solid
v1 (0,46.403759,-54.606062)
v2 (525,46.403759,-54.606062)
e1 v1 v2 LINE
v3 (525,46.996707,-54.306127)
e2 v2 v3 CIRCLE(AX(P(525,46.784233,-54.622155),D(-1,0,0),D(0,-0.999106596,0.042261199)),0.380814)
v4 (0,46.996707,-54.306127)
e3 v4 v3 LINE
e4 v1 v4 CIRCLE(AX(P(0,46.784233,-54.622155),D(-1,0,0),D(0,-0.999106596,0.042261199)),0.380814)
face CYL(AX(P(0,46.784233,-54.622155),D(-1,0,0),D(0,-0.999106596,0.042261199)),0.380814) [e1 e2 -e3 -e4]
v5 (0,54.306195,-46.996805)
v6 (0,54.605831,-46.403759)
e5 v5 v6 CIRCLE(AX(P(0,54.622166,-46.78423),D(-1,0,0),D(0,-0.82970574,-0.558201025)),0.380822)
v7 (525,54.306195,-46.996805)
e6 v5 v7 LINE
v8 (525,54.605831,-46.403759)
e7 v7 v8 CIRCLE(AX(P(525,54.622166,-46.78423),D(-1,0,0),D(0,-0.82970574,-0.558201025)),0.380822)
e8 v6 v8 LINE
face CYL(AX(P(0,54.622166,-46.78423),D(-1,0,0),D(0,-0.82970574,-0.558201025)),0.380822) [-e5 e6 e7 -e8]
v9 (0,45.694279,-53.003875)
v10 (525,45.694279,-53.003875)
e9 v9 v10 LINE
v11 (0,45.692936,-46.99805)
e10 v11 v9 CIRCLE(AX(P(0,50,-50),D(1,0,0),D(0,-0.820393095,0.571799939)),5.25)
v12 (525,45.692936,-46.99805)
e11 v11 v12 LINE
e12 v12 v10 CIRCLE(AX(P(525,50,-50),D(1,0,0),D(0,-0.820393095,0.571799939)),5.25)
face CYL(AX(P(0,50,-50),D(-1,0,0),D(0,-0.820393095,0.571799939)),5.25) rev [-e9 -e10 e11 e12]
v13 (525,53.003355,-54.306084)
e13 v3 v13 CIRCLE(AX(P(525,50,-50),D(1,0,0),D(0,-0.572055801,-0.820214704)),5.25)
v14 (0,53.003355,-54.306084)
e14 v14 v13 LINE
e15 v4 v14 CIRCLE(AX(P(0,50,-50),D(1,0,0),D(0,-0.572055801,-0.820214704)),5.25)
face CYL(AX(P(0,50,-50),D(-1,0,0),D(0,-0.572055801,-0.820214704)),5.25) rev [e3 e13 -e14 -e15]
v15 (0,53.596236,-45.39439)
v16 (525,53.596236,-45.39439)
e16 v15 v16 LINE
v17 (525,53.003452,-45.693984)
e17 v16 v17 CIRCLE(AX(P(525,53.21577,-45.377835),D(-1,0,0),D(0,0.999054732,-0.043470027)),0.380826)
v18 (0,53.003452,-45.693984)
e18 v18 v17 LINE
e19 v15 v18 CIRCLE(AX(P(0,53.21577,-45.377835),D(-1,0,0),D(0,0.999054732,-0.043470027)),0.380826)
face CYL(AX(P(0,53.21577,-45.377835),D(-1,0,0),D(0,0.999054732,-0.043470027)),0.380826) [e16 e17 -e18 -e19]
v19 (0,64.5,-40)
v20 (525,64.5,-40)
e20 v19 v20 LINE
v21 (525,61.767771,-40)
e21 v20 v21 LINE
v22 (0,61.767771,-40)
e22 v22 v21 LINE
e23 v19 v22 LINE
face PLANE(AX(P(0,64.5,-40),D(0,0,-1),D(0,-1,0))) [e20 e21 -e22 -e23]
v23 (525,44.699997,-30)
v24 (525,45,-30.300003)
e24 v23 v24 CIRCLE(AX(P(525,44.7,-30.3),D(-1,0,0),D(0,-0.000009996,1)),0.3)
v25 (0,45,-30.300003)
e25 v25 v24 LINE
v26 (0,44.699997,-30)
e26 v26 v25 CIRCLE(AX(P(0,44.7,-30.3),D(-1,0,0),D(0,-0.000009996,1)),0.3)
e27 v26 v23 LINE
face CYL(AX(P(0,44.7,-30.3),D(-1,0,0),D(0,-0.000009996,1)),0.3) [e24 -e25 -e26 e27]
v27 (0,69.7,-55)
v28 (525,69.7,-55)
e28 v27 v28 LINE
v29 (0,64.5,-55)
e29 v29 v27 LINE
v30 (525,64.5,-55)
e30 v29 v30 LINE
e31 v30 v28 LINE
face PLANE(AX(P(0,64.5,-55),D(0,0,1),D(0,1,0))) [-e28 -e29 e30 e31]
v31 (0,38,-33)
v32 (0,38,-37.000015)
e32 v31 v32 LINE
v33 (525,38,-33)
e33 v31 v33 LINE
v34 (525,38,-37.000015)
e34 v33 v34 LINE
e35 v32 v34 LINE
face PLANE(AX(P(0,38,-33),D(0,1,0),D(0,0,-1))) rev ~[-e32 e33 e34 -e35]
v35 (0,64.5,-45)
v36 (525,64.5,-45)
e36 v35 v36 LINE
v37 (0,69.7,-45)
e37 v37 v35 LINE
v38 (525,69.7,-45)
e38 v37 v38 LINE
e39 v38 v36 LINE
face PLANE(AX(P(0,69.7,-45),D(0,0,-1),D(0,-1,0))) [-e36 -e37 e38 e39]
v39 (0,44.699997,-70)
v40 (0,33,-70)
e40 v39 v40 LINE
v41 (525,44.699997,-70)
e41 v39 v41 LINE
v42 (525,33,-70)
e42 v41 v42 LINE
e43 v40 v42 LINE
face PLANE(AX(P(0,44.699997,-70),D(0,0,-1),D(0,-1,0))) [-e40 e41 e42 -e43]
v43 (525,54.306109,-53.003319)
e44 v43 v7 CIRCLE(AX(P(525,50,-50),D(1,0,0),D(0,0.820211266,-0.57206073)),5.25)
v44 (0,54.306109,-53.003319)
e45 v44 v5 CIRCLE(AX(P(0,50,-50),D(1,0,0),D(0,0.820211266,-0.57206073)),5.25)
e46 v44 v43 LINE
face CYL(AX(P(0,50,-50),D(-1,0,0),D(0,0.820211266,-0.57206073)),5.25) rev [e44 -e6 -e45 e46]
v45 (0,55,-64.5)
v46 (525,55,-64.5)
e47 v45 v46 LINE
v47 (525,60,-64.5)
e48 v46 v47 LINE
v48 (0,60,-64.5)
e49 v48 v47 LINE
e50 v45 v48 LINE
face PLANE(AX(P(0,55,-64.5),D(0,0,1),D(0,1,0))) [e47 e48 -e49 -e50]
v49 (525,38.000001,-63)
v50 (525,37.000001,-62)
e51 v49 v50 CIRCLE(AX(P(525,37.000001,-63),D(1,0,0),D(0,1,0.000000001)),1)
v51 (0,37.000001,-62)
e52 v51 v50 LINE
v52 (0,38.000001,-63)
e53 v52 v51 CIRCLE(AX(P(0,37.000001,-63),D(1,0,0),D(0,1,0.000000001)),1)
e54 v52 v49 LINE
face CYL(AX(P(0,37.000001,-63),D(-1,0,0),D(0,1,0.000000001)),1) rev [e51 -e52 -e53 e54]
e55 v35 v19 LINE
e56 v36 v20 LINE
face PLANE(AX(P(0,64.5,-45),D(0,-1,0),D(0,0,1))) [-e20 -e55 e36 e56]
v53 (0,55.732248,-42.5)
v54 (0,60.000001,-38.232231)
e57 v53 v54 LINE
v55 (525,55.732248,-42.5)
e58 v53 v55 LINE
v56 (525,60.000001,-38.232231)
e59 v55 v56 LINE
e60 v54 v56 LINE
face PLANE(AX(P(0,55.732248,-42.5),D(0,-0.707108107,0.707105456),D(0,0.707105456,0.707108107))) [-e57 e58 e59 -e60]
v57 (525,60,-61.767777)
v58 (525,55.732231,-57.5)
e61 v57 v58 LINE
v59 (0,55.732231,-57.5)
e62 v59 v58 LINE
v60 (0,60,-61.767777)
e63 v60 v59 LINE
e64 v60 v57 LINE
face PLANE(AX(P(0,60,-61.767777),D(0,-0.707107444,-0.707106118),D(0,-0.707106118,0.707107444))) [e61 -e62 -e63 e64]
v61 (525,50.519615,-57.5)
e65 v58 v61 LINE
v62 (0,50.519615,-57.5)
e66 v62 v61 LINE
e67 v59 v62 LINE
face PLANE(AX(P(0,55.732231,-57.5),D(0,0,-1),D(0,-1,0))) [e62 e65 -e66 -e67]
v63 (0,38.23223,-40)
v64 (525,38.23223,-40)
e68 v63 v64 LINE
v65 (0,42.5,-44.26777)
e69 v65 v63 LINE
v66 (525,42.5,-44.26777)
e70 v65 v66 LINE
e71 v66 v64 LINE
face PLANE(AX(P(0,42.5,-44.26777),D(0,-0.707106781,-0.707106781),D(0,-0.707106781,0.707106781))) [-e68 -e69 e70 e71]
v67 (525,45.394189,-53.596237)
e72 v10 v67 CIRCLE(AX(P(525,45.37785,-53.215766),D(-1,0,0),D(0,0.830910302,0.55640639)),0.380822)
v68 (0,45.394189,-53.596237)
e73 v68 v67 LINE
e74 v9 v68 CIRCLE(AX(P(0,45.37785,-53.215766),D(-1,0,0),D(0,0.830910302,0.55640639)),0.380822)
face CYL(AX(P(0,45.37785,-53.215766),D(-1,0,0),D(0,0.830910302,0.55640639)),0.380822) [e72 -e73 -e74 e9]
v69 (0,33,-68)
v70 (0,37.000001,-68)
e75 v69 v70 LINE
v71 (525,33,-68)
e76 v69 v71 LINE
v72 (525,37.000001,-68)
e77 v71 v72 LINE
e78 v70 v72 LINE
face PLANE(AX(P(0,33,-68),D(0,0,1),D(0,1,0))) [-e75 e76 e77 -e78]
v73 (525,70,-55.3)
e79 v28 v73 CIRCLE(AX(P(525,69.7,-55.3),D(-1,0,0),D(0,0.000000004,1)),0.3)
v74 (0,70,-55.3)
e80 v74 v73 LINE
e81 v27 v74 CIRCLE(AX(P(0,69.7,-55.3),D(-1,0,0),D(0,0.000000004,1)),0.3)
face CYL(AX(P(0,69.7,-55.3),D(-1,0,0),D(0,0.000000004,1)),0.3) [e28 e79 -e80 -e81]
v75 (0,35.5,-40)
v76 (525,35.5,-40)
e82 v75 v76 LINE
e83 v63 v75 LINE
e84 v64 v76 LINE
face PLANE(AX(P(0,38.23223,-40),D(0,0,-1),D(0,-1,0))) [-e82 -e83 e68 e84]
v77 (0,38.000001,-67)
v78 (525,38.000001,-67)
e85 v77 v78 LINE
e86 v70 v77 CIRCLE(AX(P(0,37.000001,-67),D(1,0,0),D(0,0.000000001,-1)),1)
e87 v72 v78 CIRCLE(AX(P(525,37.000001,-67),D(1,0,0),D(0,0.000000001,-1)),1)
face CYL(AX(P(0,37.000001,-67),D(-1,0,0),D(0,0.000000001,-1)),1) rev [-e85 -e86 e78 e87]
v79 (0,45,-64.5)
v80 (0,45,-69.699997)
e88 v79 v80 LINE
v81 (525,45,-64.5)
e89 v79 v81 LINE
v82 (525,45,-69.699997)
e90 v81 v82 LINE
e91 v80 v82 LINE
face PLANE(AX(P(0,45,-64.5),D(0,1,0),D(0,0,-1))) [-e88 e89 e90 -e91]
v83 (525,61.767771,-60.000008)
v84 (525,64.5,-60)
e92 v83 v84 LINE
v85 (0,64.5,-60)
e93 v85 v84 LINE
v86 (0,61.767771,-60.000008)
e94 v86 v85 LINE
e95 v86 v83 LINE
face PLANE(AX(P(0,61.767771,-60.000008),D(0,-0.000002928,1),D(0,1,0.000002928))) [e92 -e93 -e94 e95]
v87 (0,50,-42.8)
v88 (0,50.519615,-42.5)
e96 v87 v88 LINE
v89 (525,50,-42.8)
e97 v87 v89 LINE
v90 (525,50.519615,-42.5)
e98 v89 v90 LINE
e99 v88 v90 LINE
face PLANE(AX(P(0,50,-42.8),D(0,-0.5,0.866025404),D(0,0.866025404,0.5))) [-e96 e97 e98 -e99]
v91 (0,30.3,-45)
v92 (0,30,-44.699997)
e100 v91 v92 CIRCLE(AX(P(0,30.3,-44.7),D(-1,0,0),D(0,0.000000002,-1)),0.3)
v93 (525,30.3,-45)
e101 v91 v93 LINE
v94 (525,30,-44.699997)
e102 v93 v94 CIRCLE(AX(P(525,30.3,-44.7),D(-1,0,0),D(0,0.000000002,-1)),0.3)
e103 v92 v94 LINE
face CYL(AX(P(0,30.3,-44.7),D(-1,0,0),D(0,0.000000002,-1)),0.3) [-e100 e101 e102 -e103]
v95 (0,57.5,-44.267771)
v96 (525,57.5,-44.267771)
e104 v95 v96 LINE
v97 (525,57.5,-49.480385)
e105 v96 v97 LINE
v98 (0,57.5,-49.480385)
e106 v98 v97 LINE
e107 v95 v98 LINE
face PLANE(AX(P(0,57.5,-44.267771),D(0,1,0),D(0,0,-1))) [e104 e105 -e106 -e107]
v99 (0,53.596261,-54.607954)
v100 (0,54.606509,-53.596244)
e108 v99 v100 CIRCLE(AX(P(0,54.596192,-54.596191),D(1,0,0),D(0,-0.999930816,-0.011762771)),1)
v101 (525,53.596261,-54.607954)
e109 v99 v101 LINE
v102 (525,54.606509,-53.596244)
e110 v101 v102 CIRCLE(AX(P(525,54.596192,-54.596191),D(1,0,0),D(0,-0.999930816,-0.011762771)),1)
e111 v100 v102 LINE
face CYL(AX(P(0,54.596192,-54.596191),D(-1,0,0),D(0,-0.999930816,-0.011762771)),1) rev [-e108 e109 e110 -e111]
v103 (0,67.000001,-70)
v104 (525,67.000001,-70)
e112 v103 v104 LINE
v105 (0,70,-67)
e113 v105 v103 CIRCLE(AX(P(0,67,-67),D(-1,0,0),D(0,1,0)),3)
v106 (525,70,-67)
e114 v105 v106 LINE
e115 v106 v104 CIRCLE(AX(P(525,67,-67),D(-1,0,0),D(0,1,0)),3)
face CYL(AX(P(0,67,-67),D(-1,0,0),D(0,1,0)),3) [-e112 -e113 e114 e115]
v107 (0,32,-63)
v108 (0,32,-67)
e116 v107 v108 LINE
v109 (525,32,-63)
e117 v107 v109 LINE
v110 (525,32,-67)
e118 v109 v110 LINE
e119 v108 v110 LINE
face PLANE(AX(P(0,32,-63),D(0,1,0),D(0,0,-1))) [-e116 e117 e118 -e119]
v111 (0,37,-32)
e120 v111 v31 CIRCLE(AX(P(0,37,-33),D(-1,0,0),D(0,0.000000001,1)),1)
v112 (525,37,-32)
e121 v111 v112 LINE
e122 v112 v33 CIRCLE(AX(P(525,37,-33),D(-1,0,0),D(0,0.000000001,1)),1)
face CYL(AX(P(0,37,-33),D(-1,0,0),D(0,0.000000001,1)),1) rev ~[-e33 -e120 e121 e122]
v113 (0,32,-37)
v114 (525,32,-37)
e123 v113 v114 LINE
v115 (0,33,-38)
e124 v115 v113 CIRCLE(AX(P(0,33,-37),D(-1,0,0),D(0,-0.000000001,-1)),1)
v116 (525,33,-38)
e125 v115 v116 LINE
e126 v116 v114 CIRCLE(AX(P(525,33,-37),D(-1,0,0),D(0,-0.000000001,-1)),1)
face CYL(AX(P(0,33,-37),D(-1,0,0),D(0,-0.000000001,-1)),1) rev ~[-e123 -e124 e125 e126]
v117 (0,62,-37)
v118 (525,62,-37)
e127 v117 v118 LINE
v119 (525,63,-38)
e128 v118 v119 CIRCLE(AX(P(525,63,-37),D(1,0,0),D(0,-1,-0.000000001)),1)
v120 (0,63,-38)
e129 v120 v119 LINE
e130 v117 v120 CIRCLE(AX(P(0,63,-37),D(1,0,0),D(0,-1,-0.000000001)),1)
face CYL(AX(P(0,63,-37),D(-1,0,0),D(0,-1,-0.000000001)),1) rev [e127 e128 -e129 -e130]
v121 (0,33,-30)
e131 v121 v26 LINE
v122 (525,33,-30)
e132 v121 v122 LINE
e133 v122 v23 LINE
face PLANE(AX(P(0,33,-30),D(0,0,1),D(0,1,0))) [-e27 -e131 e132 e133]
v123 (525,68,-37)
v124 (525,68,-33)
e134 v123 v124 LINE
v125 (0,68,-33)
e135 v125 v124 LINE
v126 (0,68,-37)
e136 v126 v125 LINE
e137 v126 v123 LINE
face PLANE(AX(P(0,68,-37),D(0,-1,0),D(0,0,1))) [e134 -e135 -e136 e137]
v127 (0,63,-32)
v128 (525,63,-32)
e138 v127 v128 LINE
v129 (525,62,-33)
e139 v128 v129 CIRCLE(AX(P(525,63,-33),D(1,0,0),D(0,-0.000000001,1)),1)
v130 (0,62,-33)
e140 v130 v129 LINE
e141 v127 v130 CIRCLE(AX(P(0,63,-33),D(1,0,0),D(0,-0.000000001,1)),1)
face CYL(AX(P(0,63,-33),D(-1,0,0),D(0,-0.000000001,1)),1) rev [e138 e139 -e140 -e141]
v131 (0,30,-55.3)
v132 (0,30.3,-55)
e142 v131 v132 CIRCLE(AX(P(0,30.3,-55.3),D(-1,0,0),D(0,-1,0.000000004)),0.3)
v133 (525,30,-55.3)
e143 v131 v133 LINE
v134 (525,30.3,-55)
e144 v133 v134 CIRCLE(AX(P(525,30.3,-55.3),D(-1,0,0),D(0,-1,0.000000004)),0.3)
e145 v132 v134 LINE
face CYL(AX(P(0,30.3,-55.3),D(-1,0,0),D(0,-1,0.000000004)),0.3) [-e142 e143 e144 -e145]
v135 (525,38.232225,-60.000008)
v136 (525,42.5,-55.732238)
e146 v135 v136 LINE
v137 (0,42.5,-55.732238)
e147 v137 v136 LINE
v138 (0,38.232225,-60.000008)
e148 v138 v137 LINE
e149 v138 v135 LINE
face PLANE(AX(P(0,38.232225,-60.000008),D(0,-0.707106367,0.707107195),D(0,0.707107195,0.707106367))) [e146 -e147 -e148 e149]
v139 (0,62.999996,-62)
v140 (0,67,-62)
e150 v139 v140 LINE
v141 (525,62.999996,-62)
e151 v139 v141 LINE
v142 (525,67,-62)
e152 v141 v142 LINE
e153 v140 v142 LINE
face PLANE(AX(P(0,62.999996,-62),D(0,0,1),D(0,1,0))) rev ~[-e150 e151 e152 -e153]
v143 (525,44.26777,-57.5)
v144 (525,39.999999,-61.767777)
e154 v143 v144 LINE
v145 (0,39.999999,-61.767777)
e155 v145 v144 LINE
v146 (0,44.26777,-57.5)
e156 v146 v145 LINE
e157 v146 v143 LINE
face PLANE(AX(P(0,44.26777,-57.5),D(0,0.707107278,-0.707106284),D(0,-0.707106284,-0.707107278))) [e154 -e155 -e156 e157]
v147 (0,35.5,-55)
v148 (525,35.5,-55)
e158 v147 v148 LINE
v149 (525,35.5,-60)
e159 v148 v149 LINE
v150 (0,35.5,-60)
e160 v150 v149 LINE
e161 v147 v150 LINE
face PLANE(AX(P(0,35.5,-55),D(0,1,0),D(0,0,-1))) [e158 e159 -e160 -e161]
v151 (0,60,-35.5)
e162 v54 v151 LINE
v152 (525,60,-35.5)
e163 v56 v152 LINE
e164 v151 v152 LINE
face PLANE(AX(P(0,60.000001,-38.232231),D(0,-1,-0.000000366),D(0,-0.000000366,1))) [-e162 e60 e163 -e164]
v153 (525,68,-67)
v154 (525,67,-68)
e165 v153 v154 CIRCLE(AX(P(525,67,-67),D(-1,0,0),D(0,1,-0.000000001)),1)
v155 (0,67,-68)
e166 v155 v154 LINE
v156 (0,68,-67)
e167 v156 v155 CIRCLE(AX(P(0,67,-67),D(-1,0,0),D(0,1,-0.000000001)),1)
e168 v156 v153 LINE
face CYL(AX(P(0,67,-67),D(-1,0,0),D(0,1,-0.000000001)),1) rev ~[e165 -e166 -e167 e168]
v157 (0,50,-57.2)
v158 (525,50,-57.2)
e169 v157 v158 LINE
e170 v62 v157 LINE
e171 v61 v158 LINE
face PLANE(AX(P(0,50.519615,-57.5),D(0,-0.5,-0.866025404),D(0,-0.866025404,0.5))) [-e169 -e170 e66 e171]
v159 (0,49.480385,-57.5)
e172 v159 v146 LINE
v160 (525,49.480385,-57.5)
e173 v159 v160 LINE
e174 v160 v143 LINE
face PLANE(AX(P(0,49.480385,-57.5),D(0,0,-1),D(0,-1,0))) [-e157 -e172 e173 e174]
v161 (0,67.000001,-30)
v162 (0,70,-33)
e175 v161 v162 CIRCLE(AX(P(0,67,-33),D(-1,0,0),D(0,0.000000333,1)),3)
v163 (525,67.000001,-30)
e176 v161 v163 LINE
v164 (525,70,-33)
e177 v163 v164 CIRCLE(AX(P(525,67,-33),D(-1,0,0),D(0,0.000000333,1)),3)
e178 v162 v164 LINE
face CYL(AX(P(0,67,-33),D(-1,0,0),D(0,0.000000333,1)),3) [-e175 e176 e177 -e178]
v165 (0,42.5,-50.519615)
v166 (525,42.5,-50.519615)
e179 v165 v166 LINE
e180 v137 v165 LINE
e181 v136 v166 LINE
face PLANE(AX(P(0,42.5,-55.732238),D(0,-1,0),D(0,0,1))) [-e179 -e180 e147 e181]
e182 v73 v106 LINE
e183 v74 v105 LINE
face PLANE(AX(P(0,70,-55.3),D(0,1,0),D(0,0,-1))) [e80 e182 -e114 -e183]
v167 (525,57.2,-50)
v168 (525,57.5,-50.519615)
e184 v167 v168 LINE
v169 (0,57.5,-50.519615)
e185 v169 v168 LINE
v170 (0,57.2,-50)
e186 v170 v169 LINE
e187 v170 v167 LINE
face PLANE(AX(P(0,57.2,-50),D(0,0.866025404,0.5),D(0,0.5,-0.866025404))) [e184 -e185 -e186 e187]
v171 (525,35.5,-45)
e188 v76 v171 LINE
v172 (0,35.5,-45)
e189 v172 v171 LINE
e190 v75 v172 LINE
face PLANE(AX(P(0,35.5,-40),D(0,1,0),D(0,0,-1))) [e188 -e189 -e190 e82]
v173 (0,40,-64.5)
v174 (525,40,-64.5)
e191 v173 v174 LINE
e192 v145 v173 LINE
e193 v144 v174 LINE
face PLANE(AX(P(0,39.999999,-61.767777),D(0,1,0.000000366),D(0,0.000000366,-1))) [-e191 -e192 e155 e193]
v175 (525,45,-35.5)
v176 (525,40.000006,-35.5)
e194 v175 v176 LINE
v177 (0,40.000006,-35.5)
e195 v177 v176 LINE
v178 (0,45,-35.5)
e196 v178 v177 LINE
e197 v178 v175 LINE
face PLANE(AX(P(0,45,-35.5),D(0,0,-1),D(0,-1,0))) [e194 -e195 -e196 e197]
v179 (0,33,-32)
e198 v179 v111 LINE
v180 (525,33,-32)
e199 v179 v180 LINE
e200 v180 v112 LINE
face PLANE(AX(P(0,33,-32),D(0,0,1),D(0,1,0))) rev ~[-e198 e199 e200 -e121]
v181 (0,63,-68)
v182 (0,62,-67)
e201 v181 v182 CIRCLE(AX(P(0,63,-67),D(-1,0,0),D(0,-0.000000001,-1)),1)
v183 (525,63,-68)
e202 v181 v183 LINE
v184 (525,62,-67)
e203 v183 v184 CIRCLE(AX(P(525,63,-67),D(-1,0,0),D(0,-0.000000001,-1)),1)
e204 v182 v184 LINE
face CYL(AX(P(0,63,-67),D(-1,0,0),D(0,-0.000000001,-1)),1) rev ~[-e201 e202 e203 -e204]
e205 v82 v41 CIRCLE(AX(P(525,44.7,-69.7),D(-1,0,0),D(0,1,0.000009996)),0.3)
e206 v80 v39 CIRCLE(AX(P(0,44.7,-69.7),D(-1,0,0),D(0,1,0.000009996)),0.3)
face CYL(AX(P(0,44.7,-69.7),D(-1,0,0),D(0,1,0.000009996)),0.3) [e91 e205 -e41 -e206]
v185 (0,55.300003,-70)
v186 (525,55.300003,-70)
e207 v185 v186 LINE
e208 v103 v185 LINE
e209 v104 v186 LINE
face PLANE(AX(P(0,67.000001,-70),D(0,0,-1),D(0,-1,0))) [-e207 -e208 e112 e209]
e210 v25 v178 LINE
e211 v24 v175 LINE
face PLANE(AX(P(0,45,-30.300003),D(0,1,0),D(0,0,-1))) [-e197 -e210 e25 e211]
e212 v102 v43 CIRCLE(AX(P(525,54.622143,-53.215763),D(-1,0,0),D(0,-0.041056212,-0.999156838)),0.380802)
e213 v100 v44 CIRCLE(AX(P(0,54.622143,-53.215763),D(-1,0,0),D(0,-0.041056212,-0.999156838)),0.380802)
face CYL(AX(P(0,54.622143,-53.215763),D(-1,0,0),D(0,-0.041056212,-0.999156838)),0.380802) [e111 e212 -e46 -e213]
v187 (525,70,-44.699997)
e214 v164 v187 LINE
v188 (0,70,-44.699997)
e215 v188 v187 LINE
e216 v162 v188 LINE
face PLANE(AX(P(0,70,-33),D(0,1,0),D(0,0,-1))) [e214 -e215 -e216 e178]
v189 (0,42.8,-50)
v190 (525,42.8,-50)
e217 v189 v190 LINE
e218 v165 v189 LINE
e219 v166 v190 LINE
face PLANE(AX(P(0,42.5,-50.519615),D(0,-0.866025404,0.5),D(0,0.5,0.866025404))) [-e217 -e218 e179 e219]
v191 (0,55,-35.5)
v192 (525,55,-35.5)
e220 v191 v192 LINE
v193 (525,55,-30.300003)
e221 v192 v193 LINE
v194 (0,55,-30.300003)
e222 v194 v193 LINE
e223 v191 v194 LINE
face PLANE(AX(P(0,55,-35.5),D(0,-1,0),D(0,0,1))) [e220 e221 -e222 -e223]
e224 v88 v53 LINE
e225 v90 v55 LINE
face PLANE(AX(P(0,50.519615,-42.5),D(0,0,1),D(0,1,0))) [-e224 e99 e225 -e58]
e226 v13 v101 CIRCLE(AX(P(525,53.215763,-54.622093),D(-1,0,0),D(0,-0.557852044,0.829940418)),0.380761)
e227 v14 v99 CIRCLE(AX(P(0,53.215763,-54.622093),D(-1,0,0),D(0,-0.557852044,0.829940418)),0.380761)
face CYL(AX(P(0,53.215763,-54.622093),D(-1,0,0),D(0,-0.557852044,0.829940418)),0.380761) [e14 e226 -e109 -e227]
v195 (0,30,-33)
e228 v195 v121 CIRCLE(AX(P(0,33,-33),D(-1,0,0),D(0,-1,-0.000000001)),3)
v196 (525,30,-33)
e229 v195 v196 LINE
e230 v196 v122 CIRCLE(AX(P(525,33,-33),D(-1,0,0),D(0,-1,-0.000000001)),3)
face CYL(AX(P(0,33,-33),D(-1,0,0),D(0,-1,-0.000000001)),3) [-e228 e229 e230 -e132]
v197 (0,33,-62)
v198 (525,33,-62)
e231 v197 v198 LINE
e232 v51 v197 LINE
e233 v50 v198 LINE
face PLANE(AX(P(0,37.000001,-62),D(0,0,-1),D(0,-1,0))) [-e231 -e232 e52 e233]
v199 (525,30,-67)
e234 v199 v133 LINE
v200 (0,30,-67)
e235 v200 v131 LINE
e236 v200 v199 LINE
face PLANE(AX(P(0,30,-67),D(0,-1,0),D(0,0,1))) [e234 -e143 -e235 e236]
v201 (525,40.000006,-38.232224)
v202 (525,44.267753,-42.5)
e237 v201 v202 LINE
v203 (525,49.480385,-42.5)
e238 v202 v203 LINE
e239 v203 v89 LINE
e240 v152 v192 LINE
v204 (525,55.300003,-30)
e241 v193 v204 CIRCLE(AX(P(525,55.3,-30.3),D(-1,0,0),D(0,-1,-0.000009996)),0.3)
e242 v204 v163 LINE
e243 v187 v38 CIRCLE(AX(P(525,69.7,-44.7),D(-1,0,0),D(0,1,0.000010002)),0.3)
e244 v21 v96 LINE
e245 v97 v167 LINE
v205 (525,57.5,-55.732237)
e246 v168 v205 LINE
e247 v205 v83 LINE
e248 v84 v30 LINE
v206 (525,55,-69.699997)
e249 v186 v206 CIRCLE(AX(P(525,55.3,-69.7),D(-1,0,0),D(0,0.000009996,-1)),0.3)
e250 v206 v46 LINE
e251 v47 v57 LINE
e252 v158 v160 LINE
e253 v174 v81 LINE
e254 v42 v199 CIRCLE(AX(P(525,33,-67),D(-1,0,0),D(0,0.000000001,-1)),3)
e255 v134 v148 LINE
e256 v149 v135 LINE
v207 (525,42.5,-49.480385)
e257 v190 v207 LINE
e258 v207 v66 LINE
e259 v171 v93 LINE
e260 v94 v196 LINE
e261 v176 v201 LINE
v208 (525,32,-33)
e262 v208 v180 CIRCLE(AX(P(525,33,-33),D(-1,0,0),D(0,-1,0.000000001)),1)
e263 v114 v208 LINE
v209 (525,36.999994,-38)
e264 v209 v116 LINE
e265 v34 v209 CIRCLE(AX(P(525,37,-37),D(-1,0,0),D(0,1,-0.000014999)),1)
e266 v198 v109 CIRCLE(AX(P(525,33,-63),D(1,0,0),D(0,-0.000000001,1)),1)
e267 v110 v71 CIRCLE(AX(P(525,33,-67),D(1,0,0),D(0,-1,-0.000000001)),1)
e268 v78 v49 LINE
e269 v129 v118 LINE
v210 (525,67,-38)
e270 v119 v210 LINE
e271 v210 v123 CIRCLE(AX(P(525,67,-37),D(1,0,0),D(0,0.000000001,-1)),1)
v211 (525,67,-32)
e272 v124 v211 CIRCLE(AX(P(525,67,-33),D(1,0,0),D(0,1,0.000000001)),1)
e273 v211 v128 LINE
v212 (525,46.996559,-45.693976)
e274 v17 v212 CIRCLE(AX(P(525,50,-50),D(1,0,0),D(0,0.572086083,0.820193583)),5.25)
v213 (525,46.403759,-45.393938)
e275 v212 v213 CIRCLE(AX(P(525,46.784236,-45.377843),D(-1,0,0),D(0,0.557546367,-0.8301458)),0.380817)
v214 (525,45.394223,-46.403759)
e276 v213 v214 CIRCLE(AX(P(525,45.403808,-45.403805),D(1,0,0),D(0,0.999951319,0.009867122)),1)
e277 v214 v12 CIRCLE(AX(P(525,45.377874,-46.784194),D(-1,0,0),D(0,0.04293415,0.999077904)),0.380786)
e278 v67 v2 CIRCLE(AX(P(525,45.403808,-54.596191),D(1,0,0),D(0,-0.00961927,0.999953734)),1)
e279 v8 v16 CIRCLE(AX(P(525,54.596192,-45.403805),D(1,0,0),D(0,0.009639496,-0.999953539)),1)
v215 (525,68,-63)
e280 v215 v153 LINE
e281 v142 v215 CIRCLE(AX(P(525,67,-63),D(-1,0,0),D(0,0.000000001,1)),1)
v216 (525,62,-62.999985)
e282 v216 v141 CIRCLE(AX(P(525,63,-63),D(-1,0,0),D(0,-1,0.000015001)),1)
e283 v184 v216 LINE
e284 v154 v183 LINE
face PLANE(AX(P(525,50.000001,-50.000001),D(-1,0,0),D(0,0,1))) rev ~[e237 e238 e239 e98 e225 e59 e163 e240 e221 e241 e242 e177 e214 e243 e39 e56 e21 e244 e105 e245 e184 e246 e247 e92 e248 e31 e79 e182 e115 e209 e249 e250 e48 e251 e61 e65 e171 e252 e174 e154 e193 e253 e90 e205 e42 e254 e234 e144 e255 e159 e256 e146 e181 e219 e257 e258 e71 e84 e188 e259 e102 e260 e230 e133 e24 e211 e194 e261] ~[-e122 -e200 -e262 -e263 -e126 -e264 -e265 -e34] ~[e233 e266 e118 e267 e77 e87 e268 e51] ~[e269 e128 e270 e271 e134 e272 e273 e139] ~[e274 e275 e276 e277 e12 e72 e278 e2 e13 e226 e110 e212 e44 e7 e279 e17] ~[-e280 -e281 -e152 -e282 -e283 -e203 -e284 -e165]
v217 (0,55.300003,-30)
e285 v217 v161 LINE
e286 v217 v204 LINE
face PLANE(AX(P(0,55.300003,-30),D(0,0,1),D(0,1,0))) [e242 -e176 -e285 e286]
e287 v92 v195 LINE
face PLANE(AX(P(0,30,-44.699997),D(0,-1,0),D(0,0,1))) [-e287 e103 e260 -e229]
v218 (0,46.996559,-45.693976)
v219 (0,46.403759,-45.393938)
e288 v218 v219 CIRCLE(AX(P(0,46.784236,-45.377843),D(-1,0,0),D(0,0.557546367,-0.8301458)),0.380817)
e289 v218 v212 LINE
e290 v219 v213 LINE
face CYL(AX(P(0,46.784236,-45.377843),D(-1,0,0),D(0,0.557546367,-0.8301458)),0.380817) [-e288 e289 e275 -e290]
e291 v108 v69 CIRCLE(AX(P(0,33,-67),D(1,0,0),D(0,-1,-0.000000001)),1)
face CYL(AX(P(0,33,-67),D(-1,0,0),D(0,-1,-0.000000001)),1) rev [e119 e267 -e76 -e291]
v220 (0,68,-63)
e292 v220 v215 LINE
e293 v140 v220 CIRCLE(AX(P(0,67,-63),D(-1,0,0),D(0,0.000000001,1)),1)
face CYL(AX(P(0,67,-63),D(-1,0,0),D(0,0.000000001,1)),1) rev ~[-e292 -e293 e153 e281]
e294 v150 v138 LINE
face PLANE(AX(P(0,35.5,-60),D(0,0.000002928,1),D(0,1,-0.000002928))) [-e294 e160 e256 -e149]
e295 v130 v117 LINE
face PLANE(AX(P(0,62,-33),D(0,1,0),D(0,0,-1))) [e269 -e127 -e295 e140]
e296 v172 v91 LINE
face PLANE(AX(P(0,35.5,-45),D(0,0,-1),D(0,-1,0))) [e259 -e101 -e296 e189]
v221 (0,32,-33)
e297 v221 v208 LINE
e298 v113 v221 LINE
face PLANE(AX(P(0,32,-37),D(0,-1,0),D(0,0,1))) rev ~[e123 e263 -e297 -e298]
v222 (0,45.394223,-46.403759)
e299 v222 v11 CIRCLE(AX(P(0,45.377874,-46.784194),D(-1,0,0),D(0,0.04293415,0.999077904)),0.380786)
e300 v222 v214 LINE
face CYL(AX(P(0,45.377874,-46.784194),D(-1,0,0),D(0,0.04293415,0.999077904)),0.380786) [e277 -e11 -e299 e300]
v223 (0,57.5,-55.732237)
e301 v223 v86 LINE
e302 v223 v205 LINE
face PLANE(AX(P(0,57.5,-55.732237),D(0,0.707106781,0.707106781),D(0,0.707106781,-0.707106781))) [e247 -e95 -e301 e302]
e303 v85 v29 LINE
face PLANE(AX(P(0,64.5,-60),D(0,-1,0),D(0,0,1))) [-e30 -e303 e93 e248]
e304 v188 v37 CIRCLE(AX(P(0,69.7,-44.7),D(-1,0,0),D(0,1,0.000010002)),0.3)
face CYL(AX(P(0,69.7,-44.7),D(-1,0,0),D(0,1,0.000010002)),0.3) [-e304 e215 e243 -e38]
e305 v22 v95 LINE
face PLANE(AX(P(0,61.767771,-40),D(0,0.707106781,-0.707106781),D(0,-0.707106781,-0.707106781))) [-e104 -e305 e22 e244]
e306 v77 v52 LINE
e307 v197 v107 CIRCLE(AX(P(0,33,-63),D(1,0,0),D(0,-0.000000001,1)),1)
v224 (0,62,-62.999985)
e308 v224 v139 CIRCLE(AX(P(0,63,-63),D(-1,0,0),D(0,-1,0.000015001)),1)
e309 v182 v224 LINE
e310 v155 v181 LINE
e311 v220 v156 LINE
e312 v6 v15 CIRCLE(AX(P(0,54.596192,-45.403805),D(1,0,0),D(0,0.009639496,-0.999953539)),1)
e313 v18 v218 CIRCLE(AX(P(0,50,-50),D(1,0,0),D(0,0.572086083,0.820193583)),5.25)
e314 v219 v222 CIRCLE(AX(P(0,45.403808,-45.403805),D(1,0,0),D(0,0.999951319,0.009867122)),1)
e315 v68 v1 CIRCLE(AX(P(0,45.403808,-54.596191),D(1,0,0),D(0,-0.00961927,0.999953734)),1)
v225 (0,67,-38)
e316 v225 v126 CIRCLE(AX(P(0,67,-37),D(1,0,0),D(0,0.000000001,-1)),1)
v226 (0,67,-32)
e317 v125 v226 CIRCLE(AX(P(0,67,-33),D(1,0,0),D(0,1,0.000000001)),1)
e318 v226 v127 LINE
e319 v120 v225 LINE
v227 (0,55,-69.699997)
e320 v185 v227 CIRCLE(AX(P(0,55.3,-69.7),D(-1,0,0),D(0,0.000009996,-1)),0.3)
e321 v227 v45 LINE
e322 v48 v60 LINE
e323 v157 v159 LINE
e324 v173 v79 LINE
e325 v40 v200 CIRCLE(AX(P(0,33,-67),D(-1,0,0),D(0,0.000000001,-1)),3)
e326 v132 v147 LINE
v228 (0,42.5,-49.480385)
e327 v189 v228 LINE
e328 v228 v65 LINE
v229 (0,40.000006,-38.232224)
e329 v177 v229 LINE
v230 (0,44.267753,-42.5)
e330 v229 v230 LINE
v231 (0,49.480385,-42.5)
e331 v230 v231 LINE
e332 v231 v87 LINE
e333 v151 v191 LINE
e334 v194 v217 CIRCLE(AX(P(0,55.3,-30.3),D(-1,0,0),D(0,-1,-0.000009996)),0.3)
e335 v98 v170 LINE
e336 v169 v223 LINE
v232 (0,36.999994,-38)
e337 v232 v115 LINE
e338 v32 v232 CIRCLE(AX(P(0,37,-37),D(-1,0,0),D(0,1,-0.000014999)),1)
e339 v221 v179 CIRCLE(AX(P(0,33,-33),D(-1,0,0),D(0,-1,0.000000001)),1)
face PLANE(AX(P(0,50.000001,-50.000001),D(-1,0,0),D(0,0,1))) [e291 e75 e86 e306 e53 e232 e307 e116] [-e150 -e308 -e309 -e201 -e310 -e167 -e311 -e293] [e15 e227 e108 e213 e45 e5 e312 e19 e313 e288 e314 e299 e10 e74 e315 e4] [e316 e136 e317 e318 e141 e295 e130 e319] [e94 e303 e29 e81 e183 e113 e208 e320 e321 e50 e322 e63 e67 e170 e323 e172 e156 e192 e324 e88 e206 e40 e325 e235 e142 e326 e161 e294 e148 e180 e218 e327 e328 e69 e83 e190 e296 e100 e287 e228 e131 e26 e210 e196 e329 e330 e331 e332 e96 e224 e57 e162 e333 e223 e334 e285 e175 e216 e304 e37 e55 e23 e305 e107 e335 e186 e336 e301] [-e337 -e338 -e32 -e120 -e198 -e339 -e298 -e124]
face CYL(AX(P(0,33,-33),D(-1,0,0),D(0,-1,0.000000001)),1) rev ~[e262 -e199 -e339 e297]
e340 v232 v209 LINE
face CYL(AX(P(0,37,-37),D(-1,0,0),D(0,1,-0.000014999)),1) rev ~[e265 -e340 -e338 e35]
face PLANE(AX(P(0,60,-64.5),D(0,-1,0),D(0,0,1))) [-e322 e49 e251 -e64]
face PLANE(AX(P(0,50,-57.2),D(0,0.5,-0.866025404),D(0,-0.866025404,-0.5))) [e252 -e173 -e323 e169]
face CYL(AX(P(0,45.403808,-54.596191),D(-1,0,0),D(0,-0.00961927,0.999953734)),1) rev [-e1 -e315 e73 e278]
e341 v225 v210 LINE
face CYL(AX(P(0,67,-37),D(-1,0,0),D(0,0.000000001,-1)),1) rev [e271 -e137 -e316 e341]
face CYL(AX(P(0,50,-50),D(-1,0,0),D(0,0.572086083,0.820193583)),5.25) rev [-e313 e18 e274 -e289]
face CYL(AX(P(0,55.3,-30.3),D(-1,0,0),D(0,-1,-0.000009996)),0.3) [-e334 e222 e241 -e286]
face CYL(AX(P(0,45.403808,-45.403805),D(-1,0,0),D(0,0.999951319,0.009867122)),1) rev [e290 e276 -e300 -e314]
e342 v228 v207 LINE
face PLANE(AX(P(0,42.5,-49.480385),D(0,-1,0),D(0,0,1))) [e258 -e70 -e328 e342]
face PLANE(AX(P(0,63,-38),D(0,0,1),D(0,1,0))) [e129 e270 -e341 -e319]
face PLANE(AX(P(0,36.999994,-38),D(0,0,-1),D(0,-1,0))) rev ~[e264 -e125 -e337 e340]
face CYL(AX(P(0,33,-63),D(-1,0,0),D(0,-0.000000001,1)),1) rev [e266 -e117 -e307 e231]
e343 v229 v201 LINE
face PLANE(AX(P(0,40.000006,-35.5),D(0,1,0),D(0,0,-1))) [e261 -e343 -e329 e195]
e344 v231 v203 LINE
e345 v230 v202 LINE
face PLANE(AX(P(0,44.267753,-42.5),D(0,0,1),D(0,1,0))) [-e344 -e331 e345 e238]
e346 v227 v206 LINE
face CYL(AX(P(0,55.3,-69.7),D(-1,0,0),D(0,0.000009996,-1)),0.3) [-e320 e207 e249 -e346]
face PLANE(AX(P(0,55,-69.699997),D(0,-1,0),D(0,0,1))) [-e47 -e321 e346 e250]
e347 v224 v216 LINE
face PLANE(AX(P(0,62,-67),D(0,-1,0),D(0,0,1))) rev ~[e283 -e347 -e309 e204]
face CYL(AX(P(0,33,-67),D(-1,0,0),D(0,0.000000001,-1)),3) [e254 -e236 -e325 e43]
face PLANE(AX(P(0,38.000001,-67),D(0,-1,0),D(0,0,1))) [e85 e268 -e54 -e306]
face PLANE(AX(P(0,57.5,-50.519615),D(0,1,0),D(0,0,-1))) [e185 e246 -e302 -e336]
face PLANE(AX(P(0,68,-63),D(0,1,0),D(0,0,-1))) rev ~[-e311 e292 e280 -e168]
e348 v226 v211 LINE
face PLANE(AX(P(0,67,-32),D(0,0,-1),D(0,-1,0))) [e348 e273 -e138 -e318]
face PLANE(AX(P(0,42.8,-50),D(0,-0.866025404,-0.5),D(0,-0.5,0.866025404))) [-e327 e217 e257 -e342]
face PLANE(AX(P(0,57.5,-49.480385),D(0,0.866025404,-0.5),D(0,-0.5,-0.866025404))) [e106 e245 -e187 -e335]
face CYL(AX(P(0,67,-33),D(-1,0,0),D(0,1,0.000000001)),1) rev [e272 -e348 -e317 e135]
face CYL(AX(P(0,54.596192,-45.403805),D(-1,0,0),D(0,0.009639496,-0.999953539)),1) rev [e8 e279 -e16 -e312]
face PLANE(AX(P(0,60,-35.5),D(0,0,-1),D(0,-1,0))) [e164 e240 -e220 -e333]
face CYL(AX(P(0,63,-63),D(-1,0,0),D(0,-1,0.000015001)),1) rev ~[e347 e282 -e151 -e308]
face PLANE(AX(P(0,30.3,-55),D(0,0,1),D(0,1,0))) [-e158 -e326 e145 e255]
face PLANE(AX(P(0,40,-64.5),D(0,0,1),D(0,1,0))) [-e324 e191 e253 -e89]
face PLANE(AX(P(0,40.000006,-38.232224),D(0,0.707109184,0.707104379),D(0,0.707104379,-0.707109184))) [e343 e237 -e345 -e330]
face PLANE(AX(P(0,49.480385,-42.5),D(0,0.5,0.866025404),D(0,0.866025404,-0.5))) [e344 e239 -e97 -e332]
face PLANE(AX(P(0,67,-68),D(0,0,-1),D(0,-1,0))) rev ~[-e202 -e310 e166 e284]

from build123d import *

# Parameters (mm, degrees)
STRUCTURAL_MEMBER2_DEPTH = 525


with BuildPart() as part:
    # Profile → Structural Member2 (new body)
    with BuildSketch(Plane(origin=(0, 0, 0), x_dir=(0, 0, -1), z_dir=(1, 0, 0))):
        with BuildLine():
            Line((69.699997, 55), (64.5, 55))
            Line((64.5, 55), (64.5, 60))
            Line((64.5, 60), (61.767777, 60))
            Line((61.767777, 60), (57.5, 55.732231))
            Line((57.5, 55.732231), (57.5, 50.519615242))
            Line((57.5, 50.519615242), (57.2, 50))
            Line((57.2, 50), (57.5, 49.480384758))
            Line((57.5, 49.480384758), (57.5, 44.26777))
            Line((57.5, 44.26777), (61.767777, 39.999999))
            Line((61.767777, 39.999999), (64.5, 40))
            Line((64.5, 40), (64.5, 45))
            Line((64.5, 45), (69.699997, 45))
            ThreePointArc((69.699997, 45), (69.912132034, 44.912132034), (70, 44.699997))
            Line((70, 44.699997), (70, 33))
            ThreePointArc((70, 33), (69.121320344, 30.878679656), (67, 30))
            Line((67, 30), (55.3, 30))
            ThreePointArc((55.3, 30), (55.087867966, 30.087867966), (55, 30.3))
            Line((55, 30.3), (55, 35.5))
            Line((55, 35.5), (60, 35.5))
            Line((60, 35.5), (60.000008, 38.232225))
            Line((60.000008, 38.232225), (55.732238, 42.5))
            Line((55.732238, 42.5), (50.519615242, 42.5))
            Line((50.519615242, 42.5), (50, 42.8))
            Line((50, 42.8), (49.480384758, 42.5))
            Line((49.480384758, 42.5), (44.26777, 42.5))
            Line((44.26777, 42.5), (40, 38.23223))
            Line((40, 38.23223), (40, 35.5))
            Line((40, 35.5), (45, 35.5))
            Line((45, 35.5), (45, 30.3))
            ThreePointArc((45, 30.3), (44.912130974, 30.087866905), (44.699997, 30))
            Line((44.699997, 30), (33, 30))
            ThreePointArc((33, 30), (30.878679656, 30.878679656), (30, 33))
            Line((30, 33), (30, 44.699997))
            ThreePointArc((30, 44.699997), (30.087867966, 44.912132034), (30.300003, 45))
            Line((30.300003, 45), (35.5, 45))
            Line((35.5, 45), (35.5, 40.000006))
            Line((35.5, 40.000006), (38.232224, 40.000006))
            Line((38.232224, 40.000006), (42.5, 44.267753))
            Line((42.5, 44.267753), (42.5, 49.480384758))
            Line((42.5, 49.480384758), (42.8, 50))
            Line((42.8, 50), (42.5, 50.519615242))
            Line((42.5, 50.519615242), (42.5, 55.732248))
            Line((42.5, 55.732248), (38.232231, 60.000001))
            Line((38.232231, 60.000001), (35.5, 60))
            Line((35.5, 60), (35.5, 55))
            Line((35.5, 55), (30.300003, 55))
            ThreePointArc((30.300003, 55), (30.087867966, 55.087867966), (30, 55.300003))
            Line((30, 55.300003), (30, 67.000001))
            ThreePointArc((30, 67.000001), (30.87868001, 69.121320697), (33, 70))
            Line((33, 70), (44.699997, 70))
            ThreePointArc((44.699997, 70), (44.912130974, 69.912133095), (45, 69.7))
            Line((45, 69.7), (45, 64.5))
            Line((45, 64.5), (40, 64.5))
            Line((40, 64.5), (40, 61.767771))
            Line((40, 61.767771), (44.267771, 57.5))
            Line((44.267771, 57.5), (49.480384758, 57.5))
            Line((49.480384758, 57.5), (50, 57.2))
            Line((50, 57.2), (50.519615242, 57.5))
            Line((50.519615242, 57.5), (55.732237, 57.5))
            Line((55.732237, 57.5), (60.000008, 61.767771))
            Line((60.000008, 61.767771), (60, 64.5))
            Line((60, 64.5), (55, 64.5))
            Line((55, 64.5), (55, 69.7))
            ThreePointArc((55, 69.7), (55.087867966, 69.912132034), (55.3, 70))
            Line((55.3, 70), (67, 70))
            ThreePointArc((67, 70), (69.12131999, 69.121320697), (70, 67.000001))
            Line((70, 67.000001), (70, 55.300003))
            ThreePointArc((70, 55.300003), (69.912132034, 55.087867966), (69.699997, 55))
        make_face()
        with BuildLine():
            Line((37, 68), (33, 68))
            ThreePointArc((33, 68), (32.292893219, 67.707106781), (32, 67))
            Line((32, 67), (32, 63))
            ThreePointArc((32, 63), (32.292893219, 62.292893219), (33, 62))
            Line((33, 62), (37, 62))
            ThreePointArc((37, 62), (37.707106781, 62.292893219), (38, 63))
            Line((38, 63), (38, 67))
            ThreePointArc((38, 67), (37.707106781, 67.707106781), (37, 68))
        make_face(mode=Mode.SUBTRACT)
        with BuildLine():
            Line((68, 67), (68, 63))
            ThreePointArc((68, 63), (67.707106781, 62.292893219), (67, 62))
            Line((67, 62), (62.999985, 62))
            ThreePointArc((62.999985, 62), (62.29288933, 62.292897108), (62, 62.999996))
            Line((62, 62.999996), (62, 67))
            ThreePointArc((62, 67), (62.292893219, 67.707106781), (63, 68))
            Line((63, 68), (67, 68))
            ThreePointArc((67, 68), (67.707106781, 67.707106781), (68, 67))
        make_face(mode=Mode.SUBTRACT)
        with BuildLine():
            Line((68, 33), (68, 37.000001))
            ThreePointArc((68, 37.000001), (67.707106781, 37.707107781), (67, 38.000001))
            Line((67, 38.000001), (63, 38.000001))
            ThreePointArc((63, 38.000001), (62.292893219, 37.707107781), (62, 37.000001))
            Line((62, 37.000001), (62, 33))
            ThreePointArc((62, 33), (62.292893219, 32.292893219), (63, 32))
            Line((63, 32), (67, 32))
            ThreePointArc((67, 32), (67.707106781, 32.292893219), (68, 33))
        make_face(mode=Mode.SUBTRACT)
        with BuildLine():
            Line((33, 38), (37.000015, 38))
            ThreePointArc((37.000015, 38), (37.707114206, 37.707099357), (38, 36.999994))
            Line((38, 36.999994), (38, 33))
            ThreePointArc((38, 33), (37.707106781, 32.292893219), (37, 32))
            Line((37, 32), (33, 32))
            ThreePointArc((33, 32), (32.292893219, 32.292893219), (32, 33))
            Line((32, 33), (32, 37))
            ThreePointArc((32, 37), (32.292893219, 37.707106781), (33, 38))
        make_face(mode=Mode.SUBTRACT)
        with BuildLine():
            ThreePointArc((45.693983688, 53.003451934), (44.75, 50.000006422), (45.69397634, 46.996558601))
            ThreePointArc((45.69397634, 46.996558601), (45.717617411, 46.612262817), (45.393937878, 46.403759319))
            ThreePointArc((45.393937878, 46.403759319), (44.696798004, 44.696601447), (46.403759064, 45.394223081))
            ThreePointArc((46.403759064, 45.394223081), (46.613183993, 45.71810041), (46.998050321, 45.692936253))
            ThreePointArc((46.998050321, 45.692936253), (50.001173377, 44.750000131), (53.00387464, 45.694278557))
            ThreePointArc((53.00387464, 45.694278557), (53.38786573, 45.717565842), (53.596237266, 45.39418873))
            ThreePointArc((53.596237266, 45.39418873), (55.303208824, 44.696612273), (54.60606185, 46.403759282))
            ThreePointArc((54.60606185, 46.403759282), (54.2823423, 46.612342937), (54.306127195, 46.996707043))
            ThreePointArc((54.306127195, 46.996707043), (55.25, 50.000037648), (54.306084121, 53.003354715))
            ThreePointArc((54.306084121, 53.003354715), (54.28277906, 53.388519532), (54.607953771, 53.596260884))
            ThreePointArc((54.607953771, 53.596260884), (55.30278657, 55.303809323), (53.596244226, 54.606509157))
            ThreePointArc((53.596244226, 54.606509157), (53.387865247, 54.28245073), (53.003318835, 54.306109146))
            ThreePointArc((53.003318835, 54.306109146), (50.000075464, 55.249999999), (46.996804959, 54.306195484))
            ThreePointArc((46.996804959, 54.306195484), (46.612495539, 54.2822647), (46.403758539, 54.605831196))
            ThreePointArc((46.403758539, 54.605831196), (44.696618996, 55.30321925), (45.394389581, 53.596236026))
            ThreePointArc((45.394389581, 53.596236026), (45.717718991, 53.387547534), (45.693983688, 53.003451934))
        make_face(mode=Mode.SUBTRACT)
    extrude(amount=STRUCTURAL_MEMBER2_DEPTH)


solid = part.part
